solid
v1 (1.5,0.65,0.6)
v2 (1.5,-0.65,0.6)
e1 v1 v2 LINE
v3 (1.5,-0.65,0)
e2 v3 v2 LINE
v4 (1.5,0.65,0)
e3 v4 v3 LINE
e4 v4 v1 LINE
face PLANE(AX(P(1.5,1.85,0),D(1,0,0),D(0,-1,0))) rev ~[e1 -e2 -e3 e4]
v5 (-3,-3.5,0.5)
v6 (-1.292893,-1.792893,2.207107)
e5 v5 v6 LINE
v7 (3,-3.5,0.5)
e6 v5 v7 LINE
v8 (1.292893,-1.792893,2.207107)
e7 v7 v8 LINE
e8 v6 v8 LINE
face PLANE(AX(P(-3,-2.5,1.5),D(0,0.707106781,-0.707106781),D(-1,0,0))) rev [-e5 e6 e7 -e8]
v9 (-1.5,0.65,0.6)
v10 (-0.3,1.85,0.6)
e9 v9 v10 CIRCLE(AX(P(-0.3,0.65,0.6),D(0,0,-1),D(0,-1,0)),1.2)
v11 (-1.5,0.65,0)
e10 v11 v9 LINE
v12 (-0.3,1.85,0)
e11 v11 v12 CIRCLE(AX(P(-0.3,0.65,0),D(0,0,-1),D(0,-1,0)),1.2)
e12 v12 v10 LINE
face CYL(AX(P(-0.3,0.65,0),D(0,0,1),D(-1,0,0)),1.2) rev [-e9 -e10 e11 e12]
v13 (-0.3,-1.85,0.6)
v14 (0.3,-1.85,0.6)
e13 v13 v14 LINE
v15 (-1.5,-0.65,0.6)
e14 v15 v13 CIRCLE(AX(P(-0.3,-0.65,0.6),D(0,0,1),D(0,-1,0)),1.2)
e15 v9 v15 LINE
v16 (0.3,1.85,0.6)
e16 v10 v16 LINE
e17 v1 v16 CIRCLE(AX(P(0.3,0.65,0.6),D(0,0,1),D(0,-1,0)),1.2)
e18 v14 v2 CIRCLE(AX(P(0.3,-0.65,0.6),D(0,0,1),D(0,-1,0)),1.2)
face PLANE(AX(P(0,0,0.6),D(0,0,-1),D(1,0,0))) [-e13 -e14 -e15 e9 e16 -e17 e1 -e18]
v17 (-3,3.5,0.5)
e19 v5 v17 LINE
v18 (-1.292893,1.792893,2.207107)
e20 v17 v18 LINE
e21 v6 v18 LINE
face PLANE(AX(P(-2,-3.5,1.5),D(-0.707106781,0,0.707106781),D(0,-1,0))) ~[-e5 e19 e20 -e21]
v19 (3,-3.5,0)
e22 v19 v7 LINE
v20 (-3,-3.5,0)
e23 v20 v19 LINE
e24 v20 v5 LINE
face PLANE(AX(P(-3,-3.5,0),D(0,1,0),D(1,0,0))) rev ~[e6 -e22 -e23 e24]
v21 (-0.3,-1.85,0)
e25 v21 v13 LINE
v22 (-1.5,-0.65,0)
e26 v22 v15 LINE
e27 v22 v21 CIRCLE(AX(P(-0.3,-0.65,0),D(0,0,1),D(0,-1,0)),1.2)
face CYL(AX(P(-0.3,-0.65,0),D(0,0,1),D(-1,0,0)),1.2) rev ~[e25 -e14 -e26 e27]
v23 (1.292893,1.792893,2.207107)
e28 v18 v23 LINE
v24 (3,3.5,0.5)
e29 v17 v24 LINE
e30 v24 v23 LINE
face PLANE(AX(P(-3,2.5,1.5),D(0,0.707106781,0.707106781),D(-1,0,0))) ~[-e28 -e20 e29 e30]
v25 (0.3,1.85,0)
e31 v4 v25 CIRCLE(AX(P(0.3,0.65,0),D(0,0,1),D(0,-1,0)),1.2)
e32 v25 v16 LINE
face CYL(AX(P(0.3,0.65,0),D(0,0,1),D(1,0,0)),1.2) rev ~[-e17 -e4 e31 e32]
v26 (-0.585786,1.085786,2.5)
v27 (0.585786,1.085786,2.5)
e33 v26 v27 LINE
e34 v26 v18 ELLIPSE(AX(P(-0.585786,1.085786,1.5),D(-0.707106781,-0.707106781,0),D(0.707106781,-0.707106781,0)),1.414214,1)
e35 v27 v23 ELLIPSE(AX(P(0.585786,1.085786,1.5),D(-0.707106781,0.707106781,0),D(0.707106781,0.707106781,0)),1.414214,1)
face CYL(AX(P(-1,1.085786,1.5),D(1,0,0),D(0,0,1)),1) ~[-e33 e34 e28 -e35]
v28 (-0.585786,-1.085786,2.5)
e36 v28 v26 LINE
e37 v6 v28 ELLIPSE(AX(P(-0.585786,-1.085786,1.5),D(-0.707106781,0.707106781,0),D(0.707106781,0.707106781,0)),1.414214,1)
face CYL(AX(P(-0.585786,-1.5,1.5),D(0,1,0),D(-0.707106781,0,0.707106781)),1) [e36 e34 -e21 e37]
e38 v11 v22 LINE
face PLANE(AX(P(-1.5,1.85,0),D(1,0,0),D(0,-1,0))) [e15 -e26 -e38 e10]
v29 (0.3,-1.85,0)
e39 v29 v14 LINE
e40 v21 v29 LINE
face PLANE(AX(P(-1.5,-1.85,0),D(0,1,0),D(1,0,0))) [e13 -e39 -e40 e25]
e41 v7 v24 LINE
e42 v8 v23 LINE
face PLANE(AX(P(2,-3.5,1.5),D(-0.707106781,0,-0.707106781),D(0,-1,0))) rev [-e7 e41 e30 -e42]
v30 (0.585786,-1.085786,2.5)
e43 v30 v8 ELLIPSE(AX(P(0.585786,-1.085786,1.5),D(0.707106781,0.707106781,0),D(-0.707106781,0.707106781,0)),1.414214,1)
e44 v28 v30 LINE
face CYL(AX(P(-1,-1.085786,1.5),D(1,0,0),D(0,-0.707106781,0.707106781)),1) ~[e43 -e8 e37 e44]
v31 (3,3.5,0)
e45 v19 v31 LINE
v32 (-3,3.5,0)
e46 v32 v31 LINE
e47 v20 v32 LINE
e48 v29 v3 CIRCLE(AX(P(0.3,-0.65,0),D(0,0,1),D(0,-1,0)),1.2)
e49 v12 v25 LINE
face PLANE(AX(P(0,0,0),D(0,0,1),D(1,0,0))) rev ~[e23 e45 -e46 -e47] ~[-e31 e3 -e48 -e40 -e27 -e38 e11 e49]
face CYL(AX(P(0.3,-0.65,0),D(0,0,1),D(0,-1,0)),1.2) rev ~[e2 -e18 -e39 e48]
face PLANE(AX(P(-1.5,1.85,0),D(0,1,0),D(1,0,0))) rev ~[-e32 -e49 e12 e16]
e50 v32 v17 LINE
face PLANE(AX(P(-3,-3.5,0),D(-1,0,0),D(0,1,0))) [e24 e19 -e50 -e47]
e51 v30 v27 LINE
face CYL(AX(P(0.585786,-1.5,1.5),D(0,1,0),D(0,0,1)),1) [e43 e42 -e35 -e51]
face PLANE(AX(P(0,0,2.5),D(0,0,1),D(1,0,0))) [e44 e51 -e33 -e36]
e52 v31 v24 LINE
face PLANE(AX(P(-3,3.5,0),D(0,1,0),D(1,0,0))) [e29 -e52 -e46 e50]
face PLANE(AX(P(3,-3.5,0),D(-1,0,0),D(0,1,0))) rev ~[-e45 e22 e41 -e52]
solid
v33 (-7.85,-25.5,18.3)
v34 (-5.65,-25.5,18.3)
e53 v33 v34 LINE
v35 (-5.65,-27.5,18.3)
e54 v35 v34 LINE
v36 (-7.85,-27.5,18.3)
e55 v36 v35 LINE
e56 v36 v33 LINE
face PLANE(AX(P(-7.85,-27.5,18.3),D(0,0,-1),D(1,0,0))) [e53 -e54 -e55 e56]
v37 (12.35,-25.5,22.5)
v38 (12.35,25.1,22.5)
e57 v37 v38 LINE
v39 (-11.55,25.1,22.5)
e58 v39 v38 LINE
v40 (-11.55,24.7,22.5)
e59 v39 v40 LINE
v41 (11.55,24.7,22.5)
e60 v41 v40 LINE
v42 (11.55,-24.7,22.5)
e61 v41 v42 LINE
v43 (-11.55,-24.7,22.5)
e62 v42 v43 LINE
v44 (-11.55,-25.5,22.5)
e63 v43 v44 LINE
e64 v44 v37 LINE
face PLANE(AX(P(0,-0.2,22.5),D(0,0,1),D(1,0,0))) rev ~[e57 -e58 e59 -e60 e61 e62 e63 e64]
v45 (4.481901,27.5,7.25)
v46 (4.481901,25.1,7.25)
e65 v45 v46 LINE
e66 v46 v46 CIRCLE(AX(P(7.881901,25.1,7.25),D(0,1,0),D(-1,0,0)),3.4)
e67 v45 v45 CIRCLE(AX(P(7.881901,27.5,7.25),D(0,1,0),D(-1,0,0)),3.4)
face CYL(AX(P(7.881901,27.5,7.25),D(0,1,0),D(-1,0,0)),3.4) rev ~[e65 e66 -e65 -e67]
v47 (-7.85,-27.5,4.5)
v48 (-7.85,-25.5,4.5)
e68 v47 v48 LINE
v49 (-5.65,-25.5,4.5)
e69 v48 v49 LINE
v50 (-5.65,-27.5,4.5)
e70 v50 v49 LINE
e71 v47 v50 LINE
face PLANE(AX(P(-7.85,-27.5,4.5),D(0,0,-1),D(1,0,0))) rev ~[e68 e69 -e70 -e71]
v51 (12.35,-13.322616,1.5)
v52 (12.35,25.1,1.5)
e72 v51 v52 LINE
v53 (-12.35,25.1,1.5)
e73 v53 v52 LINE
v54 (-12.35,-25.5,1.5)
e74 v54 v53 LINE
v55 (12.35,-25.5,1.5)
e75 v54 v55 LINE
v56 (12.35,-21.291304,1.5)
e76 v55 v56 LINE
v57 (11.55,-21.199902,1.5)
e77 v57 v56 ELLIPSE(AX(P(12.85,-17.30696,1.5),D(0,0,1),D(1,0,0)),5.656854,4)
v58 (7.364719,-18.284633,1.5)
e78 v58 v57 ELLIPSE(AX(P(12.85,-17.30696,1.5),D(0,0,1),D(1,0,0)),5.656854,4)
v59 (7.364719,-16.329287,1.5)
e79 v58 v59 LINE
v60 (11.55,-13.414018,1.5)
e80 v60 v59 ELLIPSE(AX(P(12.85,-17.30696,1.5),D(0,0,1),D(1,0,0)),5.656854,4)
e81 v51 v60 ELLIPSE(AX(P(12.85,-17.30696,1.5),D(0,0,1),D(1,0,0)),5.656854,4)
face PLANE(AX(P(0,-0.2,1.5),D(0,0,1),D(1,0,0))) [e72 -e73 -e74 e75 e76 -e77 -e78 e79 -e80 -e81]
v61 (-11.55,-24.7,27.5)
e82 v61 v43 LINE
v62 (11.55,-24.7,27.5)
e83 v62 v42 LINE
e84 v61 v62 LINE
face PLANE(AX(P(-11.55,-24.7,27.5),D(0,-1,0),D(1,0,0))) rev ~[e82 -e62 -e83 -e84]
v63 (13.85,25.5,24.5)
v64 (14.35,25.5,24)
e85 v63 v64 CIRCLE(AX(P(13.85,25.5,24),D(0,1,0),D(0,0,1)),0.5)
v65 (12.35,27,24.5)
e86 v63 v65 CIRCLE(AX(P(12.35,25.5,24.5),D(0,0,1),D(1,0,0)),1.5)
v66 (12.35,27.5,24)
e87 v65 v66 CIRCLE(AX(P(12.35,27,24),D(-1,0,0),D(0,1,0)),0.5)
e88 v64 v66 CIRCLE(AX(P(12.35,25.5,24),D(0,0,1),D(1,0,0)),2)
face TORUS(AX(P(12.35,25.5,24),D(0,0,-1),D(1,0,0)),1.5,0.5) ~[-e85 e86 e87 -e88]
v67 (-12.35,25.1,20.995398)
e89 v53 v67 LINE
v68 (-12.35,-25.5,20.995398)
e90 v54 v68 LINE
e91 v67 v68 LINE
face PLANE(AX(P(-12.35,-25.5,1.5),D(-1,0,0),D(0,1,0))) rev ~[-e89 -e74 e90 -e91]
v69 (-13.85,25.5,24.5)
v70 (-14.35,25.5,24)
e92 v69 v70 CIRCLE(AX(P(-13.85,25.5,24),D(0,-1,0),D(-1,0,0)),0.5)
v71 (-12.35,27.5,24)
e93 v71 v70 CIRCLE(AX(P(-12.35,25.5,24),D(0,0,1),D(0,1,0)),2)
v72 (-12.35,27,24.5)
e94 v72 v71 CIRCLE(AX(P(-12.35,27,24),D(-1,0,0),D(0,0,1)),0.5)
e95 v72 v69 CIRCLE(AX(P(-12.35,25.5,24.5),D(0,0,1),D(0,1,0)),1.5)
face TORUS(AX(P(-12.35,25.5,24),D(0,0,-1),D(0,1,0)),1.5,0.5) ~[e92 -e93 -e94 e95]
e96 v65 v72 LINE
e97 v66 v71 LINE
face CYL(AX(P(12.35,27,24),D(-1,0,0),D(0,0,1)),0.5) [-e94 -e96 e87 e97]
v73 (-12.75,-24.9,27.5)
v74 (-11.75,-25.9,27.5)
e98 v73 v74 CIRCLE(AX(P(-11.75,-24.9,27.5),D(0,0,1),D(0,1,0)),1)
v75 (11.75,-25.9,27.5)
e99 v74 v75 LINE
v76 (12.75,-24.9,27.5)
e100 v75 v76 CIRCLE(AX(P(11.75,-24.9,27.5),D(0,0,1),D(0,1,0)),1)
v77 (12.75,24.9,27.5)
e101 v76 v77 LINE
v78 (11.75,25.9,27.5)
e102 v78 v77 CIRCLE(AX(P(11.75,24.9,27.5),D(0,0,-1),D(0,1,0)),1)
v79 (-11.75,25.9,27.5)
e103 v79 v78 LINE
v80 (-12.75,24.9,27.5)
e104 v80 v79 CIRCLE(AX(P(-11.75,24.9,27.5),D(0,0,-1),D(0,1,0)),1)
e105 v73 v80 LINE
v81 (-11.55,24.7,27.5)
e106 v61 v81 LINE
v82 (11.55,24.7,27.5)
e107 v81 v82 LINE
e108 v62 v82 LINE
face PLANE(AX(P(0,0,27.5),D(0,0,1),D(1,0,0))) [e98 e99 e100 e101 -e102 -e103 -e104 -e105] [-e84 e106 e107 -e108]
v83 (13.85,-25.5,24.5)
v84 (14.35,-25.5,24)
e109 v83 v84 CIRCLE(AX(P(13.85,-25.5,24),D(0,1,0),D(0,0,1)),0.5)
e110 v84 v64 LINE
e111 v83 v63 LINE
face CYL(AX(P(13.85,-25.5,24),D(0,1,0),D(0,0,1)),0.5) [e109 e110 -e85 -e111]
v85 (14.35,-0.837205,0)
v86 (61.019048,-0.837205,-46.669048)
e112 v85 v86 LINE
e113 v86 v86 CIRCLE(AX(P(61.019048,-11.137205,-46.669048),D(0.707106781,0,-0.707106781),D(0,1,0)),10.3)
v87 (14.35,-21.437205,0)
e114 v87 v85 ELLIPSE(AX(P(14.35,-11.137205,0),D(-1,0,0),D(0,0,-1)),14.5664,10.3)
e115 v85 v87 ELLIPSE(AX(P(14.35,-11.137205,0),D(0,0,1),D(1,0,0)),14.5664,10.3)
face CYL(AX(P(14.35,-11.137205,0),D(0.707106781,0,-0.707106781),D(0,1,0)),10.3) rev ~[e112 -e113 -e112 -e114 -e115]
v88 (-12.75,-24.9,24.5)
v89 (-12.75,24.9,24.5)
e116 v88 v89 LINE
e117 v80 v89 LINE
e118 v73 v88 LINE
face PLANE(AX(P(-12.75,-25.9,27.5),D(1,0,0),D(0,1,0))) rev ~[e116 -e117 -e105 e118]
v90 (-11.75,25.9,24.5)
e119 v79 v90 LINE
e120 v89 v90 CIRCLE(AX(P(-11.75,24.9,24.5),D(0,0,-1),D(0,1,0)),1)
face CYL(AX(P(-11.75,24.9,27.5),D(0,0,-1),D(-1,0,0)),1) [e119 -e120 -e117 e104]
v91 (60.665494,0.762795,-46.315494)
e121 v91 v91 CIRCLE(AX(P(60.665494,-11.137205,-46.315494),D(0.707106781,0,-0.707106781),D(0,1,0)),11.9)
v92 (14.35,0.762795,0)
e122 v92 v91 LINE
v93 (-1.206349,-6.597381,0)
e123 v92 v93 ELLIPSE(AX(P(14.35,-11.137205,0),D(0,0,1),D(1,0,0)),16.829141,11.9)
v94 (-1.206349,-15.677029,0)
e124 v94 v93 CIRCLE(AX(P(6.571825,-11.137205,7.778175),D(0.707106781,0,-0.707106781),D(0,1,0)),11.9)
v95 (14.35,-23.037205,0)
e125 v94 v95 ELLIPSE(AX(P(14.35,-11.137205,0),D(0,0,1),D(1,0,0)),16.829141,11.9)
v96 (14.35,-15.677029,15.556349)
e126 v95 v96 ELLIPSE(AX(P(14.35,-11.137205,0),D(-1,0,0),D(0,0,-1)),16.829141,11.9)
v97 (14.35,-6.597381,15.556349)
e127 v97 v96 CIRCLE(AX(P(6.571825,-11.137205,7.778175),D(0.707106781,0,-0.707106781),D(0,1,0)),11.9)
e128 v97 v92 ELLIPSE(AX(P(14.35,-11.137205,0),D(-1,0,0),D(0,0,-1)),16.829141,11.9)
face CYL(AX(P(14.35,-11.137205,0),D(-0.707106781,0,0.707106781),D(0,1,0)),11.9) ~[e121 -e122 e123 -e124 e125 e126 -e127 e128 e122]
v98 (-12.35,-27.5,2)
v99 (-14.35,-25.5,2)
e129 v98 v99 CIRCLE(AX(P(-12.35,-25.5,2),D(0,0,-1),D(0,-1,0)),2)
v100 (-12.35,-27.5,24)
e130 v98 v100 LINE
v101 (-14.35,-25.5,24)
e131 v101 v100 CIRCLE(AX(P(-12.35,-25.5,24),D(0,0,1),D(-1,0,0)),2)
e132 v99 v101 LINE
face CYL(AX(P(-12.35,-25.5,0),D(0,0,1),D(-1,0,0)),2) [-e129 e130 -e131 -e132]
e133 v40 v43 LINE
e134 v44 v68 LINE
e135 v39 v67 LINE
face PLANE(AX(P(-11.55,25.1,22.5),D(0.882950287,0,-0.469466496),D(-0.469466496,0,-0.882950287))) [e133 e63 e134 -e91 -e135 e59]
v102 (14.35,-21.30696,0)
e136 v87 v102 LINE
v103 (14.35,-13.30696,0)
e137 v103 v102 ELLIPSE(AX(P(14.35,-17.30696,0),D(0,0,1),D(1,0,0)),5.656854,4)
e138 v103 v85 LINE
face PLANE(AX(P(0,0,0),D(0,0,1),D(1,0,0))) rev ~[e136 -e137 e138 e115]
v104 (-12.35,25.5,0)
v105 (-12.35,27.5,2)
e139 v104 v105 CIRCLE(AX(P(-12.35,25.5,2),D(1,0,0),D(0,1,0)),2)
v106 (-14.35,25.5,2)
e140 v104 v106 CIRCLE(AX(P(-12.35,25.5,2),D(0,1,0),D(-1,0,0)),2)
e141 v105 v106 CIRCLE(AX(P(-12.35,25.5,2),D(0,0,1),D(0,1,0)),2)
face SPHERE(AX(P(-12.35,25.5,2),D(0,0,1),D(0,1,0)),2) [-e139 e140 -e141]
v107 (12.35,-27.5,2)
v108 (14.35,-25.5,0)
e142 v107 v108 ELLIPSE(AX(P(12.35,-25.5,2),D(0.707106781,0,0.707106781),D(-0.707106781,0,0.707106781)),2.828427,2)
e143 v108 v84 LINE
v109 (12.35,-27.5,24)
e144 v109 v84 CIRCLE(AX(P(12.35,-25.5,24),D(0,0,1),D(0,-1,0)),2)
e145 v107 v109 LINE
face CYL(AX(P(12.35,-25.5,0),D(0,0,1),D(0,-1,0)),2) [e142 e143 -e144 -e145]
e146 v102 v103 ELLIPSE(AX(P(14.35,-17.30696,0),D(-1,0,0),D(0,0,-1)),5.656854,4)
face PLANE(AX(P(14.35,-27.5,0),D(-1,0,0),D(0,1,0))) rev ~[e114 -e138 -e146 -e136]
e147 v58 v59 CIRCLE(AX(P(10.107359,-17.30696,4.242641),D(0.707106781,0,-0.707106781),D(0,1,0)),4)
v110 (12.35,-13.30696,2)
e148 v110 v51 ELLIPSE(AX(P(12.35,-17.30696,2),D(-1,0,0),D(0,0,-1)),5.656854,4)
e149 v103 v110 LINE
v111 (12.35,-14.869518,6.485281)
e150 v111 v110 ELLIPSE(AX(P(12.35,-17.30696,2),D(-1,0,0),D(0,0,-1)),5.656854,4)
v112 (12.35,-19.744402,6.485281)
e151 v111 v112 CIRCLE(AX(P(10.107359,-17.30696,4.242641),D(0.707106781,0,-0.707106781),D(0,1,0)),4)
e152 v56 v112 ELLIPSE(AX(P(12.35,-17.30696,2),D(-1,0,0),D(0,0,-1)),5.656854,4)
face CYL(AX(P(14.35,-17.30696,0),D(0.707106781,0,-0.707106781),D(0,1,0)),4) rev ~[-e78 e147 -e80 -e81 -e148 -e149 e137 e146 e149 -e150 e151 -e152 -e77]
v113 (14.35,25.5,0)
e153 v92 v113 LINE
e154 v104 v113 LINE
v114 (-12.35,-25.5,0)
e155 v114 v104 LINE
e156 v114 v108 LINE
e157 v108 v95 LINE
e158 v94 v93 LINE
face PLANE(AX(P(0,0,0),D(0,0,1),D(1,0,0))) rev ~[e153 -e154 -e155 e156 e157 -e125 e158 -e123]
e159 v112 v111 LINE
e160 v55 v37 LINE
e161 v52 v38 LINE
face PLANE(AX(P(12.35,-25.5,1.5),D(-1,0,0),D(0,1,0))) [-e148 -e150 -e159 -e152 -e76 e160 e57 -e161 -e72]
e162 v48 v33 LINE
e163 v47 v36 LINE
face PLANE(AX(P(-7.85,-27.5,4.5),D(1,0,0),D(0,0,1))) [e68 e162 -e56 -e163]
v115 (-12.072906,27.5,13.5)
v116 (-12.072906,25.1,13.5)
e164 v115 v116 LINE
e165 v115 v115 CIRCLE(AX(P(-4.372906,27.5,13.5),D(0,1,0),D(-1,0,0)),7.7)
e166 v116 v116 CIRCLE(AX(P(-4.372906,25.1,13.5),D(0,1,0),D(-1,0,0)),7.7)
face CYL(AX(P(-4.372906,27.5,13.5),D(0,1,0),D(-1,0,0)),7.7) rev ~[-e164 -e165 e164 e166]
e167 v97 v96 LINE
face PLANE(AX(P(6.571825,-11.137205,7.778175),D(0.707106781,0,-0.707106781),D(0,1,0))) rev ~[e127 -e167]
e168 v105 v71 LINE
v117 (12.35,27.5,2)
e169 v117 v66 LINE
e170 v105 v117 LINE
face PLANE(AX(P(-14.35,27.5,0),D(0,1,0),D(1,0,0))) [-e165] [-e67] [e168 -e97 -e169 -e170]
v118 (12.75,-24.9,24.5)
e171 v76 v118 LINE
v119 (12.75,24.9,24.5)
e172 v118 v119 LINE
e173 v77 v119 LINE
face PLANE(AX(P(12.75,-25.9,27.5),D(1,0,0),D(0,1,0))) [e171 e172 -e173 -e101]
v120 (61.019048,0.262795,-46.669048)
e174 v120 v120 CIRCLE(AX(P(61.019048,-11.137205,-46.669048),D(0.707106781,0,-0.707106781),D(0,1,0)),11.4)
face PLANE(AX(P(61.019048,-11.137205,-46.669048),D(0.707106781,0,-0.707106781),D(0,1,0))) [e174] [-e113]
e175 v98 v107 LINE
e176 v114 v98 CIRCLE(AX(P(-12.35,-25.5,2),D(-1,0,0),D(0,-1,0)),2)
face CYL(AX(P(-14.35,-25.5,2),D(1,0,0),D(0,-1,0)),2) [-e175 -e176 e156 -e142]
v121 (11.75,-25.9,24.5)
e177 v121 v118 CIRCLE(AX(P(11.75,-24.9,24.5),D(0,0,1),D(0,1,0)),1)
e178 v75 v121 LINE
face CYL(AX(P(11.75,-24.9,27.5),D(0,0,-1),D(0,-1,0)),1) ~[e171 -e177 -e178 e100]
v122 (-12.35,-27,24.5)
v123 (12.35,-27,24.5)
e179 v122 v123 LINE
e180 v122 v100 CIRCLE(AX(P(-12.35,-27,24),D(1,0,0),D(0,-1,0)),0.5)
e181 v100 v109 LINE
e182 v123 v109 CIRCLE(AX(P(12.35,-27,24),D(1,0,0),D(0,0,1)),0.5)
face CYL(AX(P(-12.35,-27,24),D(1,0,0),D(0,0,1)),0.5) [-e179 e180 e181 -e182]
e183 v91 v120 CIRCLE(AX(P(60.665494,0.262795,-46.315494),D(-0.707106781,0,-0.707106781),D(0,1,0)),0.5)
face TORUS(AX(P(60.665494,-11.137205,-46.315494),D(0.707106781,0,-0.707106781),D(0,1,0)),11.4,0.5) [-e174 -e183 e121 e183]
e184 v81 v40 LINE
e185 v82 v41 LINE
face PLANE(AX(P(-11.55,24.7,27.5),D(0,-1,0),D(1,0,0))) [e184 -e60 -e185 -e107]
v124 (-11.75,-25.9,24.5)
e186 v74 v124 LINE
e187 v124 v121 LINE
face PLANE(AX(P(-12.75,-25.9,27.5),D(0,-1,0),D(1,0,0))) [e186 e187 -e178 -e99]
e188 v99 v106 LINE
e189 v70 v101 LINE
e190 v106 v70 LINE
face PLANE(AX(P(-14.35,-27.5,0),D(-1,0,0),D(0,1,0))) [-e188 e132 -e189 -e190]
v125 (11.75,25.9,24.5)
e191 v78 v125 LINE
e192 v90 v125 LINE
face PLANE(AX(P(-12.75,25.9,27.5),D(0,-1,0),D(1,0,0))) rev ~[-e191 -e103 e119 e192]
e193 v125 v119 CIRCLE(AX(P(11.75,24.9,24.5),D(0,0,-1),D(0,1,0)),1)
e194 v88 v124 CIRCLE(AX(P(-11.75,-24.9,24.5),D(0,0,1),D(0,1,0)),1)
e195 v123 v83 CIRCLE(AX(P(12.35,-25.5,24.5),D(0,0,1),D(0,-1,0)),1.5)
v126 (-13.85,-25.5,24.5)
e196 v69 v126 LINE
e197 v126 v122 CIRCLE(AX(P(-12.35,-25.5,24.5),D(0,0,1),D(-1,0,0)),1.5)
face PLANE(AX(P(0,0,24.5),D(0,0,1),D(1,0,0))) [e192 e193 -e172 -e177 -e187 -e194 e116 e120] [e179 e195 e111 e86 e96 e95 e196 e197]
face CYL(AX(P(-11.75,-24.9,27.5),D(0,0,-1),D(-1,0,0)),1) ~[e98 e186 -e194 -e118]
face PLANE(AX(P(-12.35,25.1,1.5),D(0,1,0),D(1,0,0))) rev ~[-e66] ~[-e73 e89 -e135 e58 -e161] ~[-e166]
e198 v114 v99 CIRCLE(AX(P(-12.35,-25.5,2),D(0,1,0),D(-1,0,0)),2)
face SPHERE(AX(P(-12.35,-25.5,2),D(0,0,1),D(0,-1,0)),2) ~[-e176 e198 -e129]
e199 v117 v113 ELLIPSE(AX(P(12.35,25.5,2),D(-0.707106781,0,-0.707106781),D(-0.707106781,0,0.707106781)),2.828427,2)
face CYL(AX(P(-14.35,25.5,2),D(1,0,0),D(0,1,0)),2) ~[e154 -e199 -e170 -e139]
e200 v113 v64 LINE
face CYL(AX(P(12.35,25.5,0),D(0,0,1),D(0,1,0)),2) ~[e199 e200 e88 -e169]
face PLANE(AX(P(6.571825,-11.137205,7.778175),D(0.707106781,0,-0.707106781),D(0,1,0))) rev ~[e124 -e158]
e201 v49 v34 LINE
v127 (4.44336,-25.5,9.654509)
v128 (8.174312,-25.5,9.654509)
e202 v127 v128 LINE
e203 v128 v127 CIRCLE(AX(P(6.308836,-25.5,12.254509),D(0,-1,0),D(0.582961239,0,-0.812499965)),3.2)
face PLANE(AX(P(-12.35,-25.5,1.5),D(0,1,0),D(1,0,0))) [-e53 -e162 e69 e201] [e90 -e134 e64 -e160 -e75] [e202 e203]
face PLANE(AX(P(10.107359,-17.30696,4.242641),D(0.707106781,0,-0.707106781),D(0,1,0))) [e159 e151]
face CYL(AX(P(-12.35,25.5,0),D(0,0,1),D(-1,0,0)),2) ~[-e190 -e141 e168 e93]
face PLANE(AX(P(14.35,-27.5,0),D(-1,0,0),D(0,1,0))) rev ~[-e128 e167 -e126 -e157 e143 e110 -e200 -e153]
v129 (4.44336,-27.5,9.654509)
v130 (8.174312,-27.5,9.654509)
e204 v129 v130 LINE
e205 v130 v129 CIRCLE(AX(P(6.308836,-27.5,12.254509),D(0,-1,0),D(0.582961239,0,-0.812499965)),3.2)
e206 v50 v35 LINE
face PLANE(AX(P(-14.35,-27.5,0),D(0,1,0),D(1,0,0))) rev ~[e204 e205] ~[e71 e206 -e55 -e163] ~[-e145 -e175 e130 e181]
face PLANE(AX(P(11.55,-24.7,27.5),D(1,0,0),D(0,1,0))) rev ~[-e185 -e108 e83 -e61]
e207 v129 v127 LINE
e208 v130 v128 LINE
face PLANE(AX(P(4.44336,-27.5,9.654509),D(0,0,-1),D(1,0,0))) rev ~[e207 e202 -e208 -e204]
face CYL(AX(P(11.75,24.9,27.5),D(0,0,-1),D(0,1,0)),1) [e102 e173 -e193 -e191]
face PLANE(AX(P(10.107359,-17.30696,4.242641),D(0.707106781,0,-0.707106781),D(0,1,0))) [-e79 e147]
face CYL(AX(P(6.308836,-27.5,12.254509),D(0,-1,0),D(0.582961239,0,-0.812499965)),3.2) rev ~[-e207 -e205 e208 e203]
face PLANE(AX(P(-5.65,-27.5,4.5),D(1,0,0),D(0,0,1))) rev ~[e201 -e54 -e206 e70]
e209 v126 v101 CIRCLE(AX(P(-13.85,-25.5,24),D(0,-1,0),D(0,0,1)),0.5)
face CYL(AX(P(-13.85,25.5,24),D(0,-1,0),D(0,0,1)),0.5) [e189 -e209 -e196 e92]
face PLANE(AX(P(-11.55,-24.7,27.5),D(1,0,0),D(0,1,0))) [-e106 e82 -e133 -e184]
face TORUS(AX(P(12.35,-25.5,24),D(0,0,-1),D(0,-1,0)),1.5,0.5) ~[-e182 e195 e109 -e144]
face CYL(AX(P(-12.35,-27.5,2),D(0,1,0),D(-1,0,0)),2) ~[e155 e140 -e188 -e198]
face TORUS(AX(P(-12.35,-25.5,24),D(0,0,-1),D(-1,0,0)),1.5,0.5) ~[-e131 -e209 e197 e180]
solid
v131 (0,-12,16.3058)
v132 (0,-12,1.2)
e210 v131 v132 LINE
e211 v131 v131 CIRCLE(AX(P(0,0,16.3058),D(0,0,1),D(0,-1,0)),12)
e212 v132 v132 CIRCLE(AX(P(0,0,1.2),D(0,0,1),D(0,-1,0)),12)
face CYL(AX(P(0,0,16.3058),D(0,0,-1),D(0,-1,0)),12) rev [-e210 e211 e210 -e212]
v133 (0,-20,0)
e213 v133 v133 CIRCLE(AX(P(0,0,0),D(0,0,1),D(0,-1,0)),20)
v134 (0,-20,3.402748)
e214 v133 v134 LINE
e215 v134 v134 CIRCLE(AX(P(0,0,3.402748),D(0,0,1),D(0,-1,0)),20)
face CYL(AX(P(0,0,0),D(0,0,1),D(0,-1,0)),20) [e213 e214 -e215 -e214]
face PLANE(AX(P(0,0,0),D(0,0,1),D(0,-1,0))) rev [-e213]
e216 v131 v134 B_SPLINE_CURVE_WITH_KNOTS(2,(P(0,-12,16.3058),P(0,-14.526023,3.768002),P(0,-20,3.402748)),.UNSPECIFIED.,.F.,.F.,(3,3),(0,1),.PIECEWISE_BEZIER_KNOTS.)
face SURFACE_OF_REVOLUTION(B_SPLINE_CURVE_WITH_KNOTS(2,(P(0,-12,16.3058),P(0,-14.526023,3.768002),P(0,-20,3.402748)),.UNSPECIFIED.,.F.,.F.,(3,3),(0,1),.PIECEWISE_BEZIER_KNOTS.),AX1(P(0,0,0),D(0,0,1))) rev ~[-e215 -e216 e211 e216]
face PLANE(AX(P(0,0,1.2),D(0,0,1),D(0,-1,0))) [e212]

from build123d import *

# Parameters (mm, degrees)
SKETCH_W          = 28.7
SKETCH_H          = 55
PAD_DEPTH         = 27.5
SKETCH001_W       = 28.7
SKETCH001_H       = 55
SKETCH001_W_2     = 25.5
SKETCH001_H_2     = 51.8
POCKET_DEPTH      = 3
SKETCH002_W       = 23.1
SKETCH002_H       = 49.4
POCKET001_DEPTH   = 26
SKETCH003_R       = 3.4
POCKET002_DEPTH   = 5
SKETCH007_W       = 2.2
SKETCH007_H       = 13.8
POCKET005_DEPTH   = 2
SKETCH008_R       = 7.7
POCKET006_DEPTH   = 3
SKETCH009_R       = 11.9
SKETCH009_R_2     = 10.3
PAD002_DEPTH      = 66
PAD002_DEPTH_BACK = 11
POCKET008_DEPTH   = 2.8
SKETCH014_R       = 4
POCKET010_DEPTH   = 6
SKETCH004_W       = 24.7
SKETCH004_H       = 50.6
POCKET011_DEPTH   = 21
PAD003_DEPTH      = 50.6
FILLET_R          = 1
FILLET005_R       = 2
FILLET006_R       = 0.5
FILLET007_R       = 0.5
SKETCH005_W       = 6
SKETCH005_H       = 7
PAD001_DEPTH      = 2.5
CHAMFER001_SIZE   = 2
FILLET003_R       = 1
SKETCH006_W       = 3
SKETCH006_H       = 3.7
POCKET004_DEPTH   = 0.6
FILLET004_R       = 1.2


with BuildPart() as body:
    # Sketch → Pad (new body)
    with BuildSketch(Plane.XY):
        Rectangle(SKETCH_W, SKETCH_H)
    extrude(amount=PAD_DEPTH)

    # Sketch001 (on Face6 of Pad) → Pocket (cut)
    with BuildSketch(Plane.XY.offset(27.5)):
        Rectangle(SKETCH001_W, SKETCH001_H)
        Rectangle(SKETCH001_W_2, SKETCH001_H_2, mode=Mode.SUBTRACT)
    extrude(amount=-POCKET_DEPTH, mode=Mode.SUBTRACT)

    # Sketch002 (on Face11 of Pocket) → Pocket001 (cut)
    with BuildSketch(Plane.XY.offset(27.5)):
        Rectangle(SKETCH002_W, SKETCH002_H)
    extrude(amount=-POCKET001_DEPTH, mode=Mode.SUBTRACT)

    # Sketch003 → Pocket002 (cut)
    with BuildSketch(Plane(origin=(0, 27.5, 0), x_dir=(-1, 0, 0), z_dir=(0, 1, 0))):
        with Locations((-7.881901, 7.25)):
            Circle(SKETCH003_R)
    extrude(amount=-POCKET002_DEPTH, mode=Mode.SUBTRACT)

    # Sketch007 → Pocket005 (cut)
    with BuildSketch(Plane.XZ.offset(27.5)):
        with Locations((-6.75, 11.4)):
            Rectangle(SKETCH007_W, SKETCH007_H)
    extrude(amount=-POCKET005_DEPTH, mode=Mode.SUBTRACT)

    # Sketch008 (on Face1 of Pocket005) → Pocket006 (cut)
    with BuildSketch(Plane(origin=(0, 27.5, 0), x_dir=(-1, 0, 0), z_dir=(0, 1, 0))):
        with Locations((4.372906, 13.5)):
            Circle(SKETCH008_R)
    extrude(amount=-POCKET006_DEPTH, mode=Mode.SUBTRACT)

    # Sketch009 (on DatumPlane) → Pad002 (join, two sides)
    with BuildSketch(Plane(origin=(14.35, 0, 0), x_dir=(0, 1, 0), z_dir=(0.707107, 0, -0.707107))) as pad002_sk:
        with Locations((-11.137205, 0)):
            Circle(SKETCH009_R)
        with Locations((-11.137205, 0)):
            Circle(SKETCH009_R_2, mode=Mode.SUBTRACT)
    extrude(amount=PAD002_DEPTH)
    extrude(pad002_sk.sketch, amount=-PAD002_DEPTH_BACK)

    # Sketch011 → Pocket008 (cut)
    with BuildSketch(Plane.XZ.offset(27.5)):
        with BuildLine():
            ThreePointArc((8.174312, 9.654509), (6.308836, 15.454509), (4.44336, 9.654509))
            Line((4.44336, 9.654509), (8.174312, 9.654509))
        make_face()
    extrude(amount=-POCKET008_DEPTH, mode=Mode.SUBTRACT)

    # Sketch014 (on DatumPlane) → Pocket010 (cut)
    with BuildSketch(Plane(origin=(14.35, 0, 0), x_dir=(0, 1, 0), z_dir=(0.707107, 0, -0.707107))):
        with Locations((-17.30696, 0)):
            Circle(SKETCH014_R)
    extrude(amount=-POCKET010_DEPTH, mode=Mode.SUBTRACT)

    # Sketch004 (on Face27 of Pocket010) → Pocket011 (cut)
    with BuildSketch(Plane.XY.offset(1.5)):
        with Locations((0, -0.2)):
            Rectangle(SKETCH004_W, SKETCH004_H)
    extrude(amount=POCKET011_DEPTH, mode=Mode.SUBTRACT)

    # Sketch015 (on Face16 of Pocket011) → Pad003 (join)
    with BuildSketch(Plane.XZ.offset(-25.1)):
        Polygon((-12.35, 22.5), (-11.55, 22.5), (-12.35, 20.995398), align=None)
    extrude(amount=PAD003_DEPTH)

    # Fillet
    fillet_edges = [body.edges().sort_by_distance(p)[0] for p in [
        (12.75, -25.9, 26),
        (12.75, 25.9, 26),
        (-12.75, -25.9, 26),
        (-12.75, 25.9, 26),
    ]]
    fillet(fillet_edges, radius=FILLET_R)

    # Fillet005
    fillet005_edges = [body.edges().sort_by_distance(p)[0] for p in [
        (-14.35, 27.5, 12.25),
        (-14.35, -27.5, 12.25),
        (14.35, -27.5, 12.25),
        (14.35, 27.5, 12.25),
        (0, 27.5, 0),
        (0, -27.5, 0),
        (-14.35, 0, 0),
    ]]
    fillet(fillet005_edges, radius=FILLET005_R)

    # Fillet006
    fillet006_edges = [body.edges().sort_by_distance(p)[0] for p in [
        (14.35, 0, 24.5),
        (13.764214, -26.914214, 24.5),
        (0, -27.5, 24.5),
        (13.764214, 26.914214, 24.5),
        (0, 27.5, 24.5),
        (-13.764214, 26.914214, 24.5),
        (-14.35, 0, 24.5),
        (-13.764214, -26.914214, 24.5),
    ]]
    fillet(fillet006_edges, radius=FILLET006_R)

    # Fillet007
    fillet007_edges = [body.edges().sort_by_distance(p)[0] for p in [
        (61.019048, -23.037205, -46.669048),
    ]]
    fillet(fillet007_edges, radius=FILLET007_R)


with BuildPart() as button:
    # Sketch005 → Pad001 (new body)
    with BuildSketch(Plane.XY):
        Rectangle(SKETCH005_W, SKETCH005_H)
    extrude(amount=PAD001_DEPTH)

    # Chamfer001
    chamfer001_edges = [button.edges().sort_by_distance(p)[0] for p in [
        (0, 3.5, 2.5),
        (3, 0, 2.5),
        (0, -3.5, 2.5),
        (-3, 0, 2.5),
    ]]
    chamfer(chamfer001_edges, length=CHAMFER001_SIZE)

    # Fillet003
    fillet003_edges = [button.edges().sort_by_distance(p)[0] for p in [
        (0, 1.5, 2.5),
        (-1, 0, 2.5),
        (1, 0, 2.5),
        (0, -1.5, 2.5),
    ]]
    fillet(fillet003_edges, radius=FILLET003_R)

    # Sketch006 (on Face11 of Fillet003) → Pocket004 (cut)
    with BuildSketch(Plane(origin=(0, 0, 0), x_dir=(1, 0, 0), z_dir=(0, 0, -1))):
        Rectangle(SKETCH006_W, SKETCH006_H)
    extrude(amount=-POCKET004_DEPTH, mode=Mode.SUBTRACT)

    # Fillet004
    fillet004_edges = [button.edges().sort_by_distance(p)[0] for p in [
        (-1.5, -1.85, 0.3),
        (1.5, -1.85, 0.3),
        (1.5, 1.85, 0.3),
        (-1.5, 1.85, 0.3),
    ]]
    fillet(fillet004_edges, radius=FILLET004_R)


with BuildPart() as bat_cap:
    # Sketch012 → Revolution (revolve)
    with BuildSketch(Plane.YZ):
        with BuildLine():
            Line((-12, 16.3058), (-12, 1.2))
            Line((-12, 1.2), (0, 1.2))
            Line((0, 1.2), (0, 0))
            Line((0, 0), (-20, 0))
            Line((-20, 0), (-20, 3.402748))
            add(Edge.make_bspline(
                [(-12, 16.3058), (-14.526023, 3.768002), (-20, 3.402748)],
                knots=[0, 0, 0, 1, 1, 1], degree=2))
        make_face()
    revolve(axis=Axis((0, 0, 0), (0, 0, 1)))


solid = Compound([body.part, button.part, bat_cap.part])
